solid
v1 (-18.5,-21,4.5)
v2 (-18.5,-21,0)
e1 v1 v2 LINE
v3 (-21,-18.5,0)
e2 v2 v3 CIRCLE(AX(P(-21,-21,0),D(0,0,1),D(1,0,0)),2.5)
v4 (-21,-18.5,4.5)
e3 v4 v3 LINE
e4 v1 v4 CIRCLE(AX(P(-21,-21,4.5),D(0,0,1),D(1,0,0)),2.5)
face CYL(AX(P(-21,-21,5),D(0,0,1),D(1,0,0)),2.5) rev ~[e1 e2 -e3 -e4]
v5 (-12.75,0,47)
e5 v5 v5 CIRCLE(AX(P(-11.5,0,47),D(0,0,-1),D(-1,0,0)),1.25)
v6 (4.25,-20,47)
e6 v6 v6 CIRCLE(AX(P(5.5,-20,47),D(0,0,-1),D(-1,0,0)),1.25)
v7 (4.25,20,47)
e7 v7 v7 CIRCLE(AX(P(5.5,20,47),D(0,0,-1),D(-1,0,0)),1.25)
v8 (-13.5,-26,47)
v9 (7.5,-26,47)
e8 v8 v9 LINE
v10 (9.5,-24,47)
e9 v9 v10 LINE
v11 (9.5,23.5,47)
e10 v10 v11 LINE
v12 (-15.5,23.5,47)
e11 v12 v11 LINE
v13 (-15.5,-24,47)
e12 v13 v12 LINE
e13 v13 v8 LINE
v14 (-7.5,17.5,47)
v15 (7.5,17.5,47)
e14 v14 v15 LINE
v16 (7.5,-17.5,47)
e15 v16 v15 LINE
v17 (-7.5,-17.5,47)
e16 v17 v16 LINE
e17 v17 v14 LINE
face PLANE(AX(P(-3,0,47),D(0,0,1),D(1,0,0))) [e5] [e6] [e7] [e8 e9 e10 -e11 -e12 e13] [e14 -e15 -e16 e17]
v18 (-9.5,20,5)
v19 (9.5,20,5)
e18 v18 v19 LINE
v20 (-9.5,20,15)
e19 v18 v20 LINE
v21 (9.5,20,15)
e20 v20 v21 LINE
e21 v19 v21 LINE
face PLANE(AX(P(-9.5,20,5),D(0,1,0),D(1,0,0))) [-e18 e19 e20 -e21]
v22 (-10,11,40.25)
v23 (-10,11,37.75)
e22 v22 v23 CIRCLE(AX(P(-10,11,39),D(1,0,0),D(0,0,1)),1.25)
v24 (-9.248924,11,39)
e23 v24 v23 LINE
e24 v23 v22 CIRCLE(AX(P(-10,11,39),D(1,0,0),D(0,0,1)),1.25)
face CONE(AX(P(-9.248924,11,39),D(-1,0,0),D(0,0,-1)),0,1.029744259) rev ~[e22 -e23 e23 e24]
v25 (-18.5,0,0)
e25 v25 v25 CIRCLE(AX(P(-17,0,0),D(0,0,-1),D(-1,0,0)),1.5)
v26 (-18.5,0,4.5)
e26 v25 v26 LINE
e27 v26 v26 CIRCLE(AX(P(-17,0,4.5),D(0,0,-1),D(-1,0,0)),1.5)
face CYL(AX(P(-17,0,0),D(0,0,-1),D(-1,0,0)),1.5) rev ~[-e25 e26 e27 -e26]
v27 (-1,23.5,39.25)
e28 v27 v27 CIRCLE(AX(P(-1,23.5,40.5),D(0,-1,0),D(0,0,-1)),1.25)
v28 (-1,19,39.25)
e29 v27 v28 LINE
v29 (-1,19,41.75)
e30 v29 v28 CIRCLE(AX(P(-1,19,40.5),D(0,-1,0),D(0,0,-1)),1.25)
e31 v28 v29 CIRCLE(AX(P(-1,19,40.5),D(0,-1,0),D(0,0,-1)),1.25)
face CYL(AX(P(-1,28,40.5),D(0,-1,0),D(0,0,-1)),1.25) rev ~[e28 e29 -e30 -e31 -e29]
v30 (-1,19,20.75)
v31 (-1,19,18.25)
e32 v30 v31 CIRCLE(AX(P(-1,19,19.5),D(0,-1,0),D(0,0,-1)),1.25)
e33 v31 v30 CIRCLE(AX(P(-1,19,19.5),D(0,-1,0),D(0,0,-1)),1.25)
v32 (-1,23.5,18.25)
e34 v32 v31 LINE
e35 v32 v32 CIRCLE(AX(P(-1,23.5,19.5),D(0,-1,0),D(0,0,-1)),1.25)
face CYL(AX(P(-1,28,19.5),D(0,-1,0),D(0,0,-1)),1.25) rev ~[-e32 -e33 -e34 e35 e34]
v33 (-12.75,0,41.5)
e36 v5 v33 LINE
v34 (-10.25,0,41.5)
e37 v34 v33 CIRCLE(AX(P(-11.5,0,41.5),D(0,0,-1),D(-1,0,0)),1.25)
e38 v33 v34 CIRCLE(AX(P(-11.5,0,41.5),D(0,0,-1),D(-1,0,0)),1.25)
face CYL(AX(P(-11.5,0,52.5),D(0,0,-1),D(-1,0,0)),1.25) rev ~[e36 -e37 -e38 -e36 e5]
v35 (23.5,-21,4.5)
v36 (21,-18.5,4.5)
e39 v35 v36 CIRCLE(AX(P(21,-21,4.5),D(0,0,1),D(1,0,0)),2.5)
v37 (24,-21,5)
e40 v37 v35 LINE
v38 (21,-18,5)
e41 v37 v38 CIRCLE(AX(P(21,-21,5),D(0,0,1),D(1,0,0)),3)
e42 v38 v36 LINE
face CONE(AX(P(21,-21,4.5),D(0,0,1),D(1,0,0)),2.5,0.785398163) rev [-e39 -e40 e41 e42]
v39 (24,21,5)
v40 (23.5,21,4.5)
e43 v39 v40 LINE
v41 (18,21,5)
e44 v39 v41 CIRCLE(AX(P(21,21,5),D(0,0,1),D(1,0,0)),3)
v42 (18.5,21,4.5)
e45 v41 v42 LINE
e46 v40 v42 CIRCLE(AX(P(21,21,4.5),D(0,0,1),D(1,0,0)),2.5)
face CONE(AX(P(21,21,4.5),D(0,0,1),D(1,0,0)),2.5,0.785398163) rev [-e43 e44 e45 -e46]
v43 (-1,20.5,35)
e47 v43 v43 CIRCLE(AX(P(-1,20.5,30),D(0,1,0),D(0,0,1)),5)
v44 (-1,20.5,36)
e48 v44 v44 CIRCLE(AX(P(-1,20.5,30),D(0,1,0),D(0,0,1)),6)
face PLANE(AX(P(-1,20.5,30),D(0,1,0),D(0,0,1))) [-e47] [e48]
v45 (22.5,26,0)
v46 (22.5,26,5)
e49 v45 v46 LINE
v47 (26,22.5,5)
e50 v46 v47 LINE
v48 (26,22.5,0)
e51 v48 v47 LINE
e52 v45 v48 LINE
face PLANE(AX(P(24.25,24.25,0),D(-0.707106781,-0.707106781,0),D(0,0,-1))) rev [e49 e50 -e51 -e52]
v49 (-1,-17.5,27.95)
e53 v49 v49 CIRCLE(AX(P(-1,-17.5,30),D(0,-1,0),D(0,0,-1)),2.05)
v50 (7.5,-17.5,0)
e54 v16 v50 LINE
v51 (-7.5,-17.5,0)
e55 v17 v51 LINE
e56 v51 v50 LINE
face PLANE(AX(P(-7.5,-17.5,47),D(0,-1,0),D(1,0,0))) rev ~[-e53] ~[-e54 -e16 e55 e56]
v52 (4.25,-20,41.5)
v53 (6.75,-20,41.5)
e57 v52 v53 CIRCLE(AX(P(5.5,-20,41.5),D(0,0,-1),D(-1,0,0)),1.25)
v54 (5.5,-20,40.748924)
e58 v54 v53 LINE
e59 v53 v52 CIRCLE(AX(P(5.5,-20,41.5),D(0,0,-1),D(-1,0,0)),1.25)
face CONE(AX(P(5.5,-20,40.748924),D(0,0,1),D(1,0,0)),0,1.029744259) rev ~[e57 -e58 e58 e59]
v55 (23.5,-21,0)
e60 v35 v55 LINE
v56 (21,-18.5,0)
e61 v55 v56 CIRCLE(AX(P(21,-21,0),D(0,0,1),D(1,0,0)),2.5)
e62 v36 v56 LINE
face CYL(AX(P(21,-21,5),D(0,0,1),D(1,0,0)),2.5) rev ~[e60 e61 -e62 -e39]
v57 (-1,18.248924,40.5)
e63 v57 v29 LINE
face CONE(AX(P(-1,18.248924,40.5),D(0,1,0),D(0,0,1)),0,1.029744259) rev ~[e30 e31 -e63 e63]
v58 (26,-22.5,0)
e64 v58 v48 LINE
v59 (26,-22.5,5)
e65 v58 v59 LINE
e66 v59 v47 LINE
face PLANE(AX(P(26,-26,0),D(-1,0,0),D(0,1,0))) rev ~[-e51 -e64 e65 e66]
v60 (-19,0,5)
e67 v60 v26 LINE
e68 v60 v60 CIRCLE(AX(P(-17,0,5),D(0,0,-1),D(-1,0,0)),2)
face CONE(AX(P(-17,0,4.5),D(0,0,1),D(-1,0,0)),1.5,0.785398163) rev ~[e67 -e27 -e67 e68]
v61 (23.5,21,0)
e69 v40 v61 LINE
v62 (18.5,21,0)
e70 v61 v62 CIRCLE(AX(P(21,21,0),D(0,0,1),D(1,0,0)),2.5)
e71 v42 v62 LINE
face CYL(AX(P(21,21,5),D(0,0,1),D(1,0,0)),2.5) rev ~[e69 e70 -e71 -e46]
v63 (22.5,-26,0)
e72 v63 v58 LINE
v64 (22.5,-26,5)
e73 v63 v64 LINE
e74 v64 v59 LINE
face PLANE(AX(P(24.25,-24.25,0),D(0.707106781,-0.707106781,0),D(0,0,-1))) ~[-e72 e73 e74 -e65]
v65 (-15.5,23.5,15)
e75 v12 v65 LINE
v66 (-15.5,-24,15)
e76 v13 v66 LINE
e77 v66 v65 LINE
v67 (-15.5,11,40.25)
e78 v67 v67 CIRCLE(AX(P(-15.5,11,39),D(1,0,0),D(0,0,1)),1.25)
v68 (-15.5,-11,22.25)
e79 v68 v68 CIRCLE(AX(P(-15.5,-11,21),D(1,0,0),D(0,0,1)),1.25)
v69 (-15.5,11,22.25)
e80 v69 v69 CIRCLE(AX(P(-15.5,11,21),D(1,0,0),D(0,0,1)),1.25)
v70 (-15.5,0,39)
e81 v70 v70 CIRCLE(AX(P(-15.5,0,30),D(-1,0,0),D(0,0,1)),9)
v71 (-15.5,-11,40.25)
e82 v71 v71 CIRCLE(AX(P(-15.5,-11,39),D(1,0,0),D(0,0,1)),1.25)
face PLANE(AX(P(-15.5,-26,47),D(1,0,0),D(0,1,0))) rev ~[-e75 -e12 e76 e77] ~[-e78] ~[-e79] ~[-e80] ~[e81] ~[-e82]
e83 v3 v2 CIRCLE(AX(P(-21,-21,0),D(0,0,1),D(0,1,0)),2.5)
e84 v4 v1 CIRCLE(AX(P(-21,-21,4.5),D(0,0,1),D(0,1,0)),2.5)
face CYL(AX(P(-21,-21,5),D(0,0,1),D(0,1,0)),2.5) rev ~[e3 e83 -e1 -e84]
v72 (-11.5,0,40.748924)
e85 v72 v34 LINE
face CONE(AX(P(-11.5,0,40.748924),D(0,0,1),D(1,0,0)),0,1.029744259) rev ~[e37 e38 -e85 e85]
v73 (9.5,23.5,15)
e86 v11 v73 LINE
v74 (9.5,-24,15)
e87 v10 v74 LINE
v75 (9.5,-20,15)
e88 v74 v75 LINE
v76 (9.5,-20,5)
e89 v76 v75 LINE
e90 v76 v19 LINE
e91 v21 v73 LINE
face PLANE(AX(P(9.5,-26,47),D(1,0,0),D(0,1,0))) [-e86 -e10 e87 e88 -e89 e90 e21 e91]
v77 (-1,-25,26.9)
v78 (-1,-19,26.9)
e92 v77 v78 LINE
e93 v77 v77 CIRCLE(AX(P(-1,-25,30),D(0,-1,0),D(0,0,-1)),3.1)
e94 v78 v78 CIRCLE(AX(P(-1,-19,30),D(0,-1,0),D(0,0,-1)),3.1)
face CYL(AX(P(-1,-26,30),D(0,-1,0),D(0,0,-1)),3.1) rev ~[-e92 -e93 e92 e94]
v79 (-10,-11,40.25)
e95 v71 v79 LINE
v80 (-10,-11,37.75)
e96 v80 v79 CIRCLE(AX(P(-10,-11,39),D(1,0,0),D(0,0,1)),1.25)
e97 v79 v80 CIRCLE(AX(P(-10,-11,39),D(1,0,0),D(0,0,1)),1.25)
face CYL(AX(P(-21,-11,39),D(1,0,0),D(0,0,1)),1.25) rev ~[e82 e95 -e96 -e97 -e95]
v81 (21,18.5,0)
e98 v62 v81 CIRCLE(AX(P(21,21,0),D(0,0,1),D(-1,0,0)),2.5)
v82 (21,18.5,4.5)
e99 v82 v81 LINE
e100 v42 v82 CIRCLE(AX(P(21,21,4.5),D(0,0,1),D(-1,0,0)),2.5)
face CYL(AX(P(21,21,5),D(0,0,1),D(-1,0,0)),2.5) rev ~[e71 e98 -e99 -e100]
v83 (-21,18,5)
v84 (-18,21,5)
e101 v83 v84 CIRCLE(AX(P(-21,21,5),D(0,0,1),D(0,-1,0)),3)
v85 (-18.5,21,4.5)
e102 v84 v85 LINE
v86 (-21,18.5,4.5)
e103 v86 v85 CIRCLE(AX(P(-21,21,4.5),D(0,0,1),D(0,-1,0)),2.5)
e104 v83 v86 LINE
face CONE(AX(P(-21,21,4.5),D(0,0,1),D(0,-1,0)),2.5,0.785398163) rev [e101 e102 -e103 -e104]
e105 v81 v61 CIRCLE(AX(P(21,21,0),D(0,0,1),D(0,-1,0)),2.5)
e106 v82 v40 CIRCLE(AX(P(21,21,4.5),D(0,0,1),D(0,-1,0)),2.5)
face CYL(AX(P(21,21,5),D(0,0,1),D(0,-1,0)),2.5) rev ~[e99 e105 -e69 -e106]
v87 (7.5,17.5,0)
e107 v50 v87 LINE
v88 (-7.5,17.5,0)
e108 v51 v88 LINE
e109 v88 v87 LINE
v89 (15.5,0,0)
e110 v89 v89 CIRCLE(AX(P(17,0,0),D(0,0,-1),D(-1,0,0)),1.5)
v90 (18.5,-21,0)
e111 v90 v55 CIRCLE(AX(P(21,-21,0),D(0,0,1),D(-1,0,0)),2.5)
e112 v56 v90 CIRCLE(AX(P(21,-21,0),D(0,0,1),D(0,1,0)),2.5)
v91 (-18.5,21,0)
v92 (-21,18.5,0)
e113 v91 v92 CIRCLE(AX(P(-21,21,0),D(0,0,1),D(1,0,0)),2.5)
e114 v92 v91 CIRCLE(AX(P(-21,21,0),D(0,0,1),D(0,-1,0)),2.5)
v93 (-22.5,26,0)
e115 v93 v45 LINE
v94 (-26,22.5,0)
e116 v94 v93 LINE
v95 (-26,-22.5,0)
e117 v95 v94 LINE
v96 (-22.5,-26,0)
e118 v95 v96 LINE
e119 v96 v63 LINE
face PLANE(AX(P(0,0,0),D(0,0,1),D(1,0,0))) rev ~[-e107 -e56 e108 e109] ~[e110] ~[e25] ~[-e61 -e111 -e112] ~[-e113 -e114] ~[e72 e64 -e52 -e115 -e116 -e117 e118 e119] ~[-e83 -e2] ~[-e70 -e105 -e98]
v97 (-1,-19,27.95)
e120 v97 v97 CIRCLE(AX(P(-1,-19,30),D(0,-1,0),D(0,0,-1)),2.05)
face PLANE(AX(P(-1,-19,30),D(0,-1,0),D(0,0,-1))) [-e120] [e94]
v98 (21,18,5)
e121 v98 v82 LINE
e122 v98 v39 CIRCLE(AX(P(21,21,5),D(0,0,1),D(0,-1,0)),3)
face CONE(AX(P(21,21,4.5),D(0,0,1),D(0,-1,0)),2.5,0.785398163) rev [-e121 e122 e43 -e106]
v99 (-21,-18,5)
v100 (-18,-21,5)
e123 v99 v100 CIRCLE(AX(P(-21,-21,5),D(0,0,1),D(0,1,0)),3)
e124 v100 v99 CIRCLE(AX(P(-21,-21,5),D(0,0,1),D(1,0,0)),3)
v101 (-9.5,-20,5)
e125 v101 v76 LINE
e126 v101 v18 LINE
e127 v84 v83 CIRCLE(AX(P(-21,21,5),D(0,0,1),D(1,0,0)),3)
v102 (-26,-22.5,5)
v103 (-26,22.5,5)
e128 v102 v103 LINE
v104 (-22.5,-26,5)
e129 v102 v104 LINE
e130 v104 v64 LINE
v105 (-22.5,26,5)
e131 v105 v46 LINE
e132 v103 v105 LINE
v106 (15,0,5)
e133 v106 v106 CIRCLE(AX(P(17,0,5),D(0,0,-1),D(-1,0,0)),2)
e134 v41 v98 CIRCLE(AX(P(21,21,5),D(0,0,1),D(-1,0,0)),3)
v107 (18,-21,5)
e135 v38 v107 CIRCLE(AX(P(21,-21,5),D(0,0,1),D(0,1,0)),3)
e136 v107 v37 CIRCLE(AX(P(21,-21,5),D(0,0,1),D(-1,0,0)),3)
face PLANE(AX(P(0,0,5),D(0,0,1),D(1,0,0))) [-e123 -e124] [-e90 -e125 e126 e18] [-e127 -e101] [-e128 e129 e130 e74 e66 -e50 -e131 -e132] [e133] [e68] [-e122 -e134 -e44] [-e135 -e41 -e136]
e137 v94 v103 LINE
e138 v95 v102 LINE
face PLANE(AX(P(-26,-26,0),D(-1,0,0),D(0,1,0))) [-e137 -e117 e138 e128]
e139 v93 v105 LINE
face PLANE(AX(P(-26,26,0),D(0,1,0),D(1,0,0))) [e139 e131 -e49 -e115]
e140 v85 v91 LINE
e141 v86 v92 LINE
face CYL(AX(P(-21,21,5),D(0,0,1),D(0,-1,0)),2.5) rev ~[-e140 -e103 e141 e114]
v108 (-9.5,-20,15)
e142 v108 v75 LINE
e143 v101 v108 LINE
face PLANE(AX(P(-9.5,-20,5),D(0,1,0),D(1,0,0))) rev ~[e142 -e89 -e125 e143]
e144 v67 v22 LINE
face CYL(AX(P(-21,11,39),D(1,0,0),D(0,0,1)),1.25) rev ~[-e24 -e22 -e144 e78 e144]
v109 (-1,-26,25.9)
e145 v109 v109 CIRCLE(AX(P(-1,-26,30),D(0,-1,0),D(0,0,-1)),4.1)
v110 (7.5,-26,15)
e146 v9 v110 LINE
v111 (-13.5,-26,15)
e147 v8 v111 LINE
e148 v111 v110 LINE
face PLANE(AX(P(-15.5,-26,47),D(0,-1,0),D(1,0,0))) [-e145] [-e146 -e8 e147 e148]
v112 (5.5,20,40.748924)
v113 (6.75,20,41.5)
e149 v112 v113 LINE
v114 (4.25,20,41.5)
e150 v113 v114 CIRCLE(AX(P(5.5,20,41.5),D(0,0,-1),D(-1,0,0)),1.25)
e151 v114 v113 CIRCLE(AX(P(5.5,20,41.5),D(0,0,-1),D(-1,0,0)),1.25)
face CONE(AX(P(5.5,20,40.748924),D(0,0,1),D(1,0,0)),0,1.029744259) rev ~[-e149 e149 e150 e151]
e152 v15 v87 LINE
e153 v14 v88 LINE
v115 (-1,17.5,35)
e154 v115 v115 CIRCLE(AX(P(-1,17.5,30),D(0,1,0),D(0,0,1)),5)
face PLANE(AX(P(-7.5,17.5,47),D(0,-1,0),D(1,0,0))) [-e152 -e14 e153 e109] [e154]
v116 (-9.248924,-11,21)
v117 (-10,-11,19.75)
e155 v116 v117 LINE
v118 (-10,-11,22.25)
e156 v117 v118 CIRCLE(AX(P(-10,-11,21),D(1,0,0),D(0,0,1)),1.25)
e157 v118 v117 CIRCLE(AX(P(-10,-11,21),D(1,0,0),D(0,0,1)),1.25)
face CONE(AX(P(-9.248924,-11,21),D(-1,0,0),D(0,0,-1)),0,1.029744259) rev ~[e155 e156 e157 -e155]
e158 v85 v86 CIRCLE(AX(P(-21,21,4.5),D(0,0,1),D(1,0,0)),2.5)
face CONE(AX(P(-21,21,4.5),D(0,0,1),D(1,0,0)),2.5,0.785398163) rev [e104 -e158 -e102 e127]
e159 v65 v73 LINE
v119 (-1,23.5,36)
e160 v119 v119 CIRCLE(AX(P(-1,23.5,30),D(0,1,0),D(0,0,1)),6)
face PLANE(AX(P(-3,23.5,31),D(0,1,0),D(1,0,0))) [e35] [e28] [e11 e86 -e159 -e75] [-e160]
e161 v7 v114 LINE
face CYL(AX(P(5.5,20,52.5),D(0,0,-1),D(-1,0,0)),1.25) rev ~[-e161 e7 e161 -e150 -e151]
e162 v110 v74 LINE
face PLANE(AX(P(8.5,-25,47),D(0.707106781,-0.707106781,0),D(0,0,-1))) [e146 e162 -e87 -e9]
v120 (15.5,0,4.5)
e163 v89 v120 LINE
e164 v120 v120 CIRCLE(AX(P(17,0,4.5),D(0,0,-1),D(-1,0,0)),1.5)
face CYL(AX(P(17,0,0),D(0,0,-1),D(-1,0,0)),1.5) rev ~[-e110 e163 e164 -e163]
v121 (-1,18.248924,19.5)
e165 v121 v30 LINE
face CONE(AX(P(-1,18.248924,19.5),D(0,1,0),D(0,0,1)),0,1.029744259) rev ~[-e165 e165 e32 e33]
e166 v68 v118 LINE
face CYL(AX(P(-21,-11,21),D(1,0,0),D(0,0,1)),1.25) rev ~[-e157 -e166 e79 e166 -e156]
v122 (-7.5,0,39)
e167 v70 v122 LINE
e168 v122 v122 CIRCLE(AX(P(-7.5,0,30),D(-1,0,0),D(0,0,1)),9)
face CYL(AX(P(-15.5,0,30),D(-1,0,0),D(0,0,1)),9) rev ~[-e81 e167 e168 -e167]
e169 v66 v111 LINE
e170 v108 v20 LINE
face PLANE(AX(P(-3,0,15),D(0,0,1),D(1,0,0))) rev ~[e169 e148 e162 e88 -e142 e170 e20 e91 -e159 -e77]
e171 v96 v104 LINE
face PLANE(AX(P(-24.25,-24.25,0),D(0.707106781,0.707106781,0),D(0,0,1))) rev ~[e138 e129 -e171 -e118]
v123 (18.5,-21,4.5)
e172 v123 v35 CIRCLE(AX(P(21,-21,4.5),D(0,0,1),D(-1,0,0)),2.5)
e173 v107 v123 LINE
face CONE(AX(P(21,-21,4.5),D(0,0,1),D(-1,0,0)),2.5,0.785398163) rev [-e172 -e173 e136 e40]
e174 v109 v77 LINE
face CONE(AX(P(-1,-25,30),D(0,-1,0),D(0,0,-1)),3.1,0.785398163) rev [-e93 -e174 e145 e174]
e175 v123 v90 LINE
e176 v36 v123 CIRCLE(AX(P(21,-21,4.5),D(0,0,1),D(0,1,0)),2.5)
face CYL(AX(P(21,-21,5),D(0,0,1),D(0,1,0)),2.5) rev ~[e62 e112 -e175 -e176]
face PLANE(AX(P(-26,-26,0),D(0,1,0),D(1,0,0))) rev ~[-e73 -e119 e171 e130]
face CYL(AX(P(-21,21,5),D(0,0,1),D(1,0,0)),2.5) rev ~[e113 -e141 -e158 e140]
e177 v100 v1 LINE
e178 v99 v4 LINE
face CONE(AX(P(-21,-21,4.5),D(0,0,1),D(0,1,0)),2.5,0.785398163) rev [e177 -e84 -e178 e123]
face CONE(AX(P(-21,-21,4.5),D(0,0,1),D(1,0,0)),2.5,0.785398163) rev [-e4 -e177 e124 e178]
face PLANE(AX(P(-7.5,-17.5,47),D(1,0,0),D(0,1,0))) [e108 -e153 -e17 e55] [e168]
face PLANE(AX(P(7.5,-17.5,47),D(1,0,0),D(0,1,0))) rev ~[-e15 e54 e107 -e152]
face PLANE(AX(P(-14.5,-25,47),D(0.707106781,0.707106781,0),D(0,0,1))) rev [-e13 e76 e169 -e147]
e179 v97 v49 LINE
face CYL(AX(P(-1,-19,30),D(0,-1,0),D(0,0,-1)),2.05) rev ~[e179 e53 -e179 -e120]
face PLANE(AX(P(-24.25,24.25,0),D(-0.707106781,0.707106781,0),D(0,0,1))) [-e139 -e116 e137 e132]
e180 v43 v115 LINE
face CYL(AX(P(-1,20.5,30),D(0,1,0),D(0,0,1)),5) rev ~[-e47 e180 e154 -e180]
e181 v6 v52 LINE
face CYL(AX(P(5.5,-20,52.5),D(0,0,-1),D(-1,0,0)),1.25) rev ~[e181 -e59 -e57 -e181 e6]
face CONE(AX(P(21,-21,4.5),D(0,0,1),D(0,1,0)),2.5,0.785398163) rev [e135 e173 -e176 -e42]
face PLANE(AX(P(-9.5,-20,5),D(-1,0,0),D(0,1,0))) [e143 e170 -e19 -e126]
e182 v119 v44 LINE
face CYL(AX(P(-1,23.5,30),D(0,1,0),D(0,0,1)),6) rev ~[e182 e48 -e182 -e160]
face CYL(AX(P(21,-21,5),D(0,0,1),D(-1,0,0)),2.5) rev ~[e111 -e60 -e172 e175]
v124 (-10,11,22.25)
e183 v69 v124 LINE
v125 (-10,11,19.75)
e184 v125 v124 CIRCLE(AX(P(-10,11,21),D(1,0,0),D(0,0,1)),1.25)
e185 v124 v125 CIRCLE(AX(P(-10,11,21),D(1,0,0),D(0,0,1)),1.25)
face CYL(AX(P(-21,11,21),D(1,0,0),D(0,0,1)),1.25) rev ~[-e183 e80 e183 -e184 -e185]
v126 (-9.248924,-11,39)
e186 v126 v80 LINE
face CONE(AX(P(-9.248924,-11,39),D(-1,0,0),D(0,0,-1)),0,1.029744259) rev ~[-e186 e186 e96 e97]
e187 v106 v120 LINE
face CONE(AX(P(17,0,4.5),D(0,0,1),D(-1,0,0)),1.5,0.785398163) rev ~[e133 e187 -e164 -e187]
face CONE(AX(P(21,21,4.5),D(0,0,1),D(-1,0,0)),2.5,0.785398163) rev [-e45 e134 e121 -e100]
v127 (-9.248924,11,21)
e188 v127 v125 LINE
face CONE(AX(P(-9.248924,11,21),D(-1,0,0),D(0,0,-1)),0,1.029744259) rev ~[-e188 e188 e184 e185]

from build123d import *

# Parameters (mm, degrees)
SKETCH_1_W          = 52
SKETCH_1_H          = 52
EXTRUDE_1_DEPTH     = 5
CUT_EXTRUDE_1_DEPTH = 38.107950631
CHAMFER_1_SIZE      = 3.5
CHAMFER_2_SIZE      = 0.5
SKETCH_3_W          = 19
SKETCH_3_H          = 40
EXTRUDE_2_DEPTH     = 42
SKETCH_4_W          = 25
SKETCH_4_H          = 52
EXTRUDE_3_DEPTH     = 32
SKETCH_6_W          = 15
SKETCH_6_H          = 35
CUT_EXTRUDE_2_DEPTH = 60.674114991
CUT_EXTRUDE_3_REACH = 69.877
SKETCH_7_R          = 9
M3X0_51_D           = 2.5
M3X0_51_DEPTH       = 5.5
M3X0_51_TIP         = 0.751075774
CHAMFER_3_SIZE      = 2
M3X0_52_D           = 2.5
M3X0_52_DEPTH       = 5.5
M3X0_52_TIP         = 0.751075774
SKETCH_13_R         = 3.1
CUT_EXTRUDE_4_DEPTH = 7
CUT_EXTRUDE_5_REACH = 72.071
SKETCH_14_R         = 2.05
CHAMFER_4_SIZE      = 1
SKETCH_15_W         = 25
SKETCH_15_H         = 32
CUT_EXTRUDE_6_DEPTH = 2.5
SKETCH_16_R         = 6
CUT_EXTRUDE_7_DEPTH = 3
CUT_EXTRUDE_8_REACH = 73.044
SKETCH_17_R         = 5
M3X0_53_D           = 2.5
M3X0_53_DEPTH       = 4.5
M3X0_53_TIP         = 0.751075774
CUT_EXTRUDE_9_REACH = 61.674
SKETCH_20_R         = 1.5
CHAMFER_5_SIZE      = 0.5


with BuildPart() as part:
    # Эскиз1 → Бобышка-Вытянуть1 (new body)
    with BuildSketch(Plane.XY):
        Rectangle(SKETCH_1_W, SKETCH_1_H)
    extrude(amount=EXTRUDE_1_DEPTH)

    # Эскиз2 → Вырез-Вытянуть1 (cut, through all)
    with BuildSketch(Plane.XY.offset(5)):
        with BuildLine():
            ThreePointArc((-18.5, 21), (-22.767766953, 22.767766953), (-21, 18.5))
            Line((-21, 18.5), (-21, 21))
            Line((-21, 21), (-18.5, 21))
        make_face()
        with BuildLine():
            Line((-21, 21), (-21, 18.5))
            ThreePointArc((-21, 18.5), (-19.232233047, 19.232233047), (-18.5, 21))
            Line((-18.5, 21), (-21, 21))
        make_face()
        with BuildLine():
            ThreePointArc((18.5, 21), (19.232233047, 19.232233047), (21, 18.5))
            Line((21, 18.5), (21, 21))
            Line((21, 21), (18.5, 21))
        make_face()
        with BuildLine():
            Line((21, 21), (21, 18.5))
            ThreePointArc((21, 18.5), (22.767766953, 19.232233047), (23.5, 21))
            ThreePointArc((23.5, 21), (21, 23.5), (18.5, 21))
            Line((18.5, 21), (21, 21))
        make_face()
        with BuildLine():
            Line((-21, -18.5), (-21, -21))
            Line((-21, -21), (-18.5, -21))
            ThreePointArc((-18.5, -21), (-19.232233047, -19.232233047), (-21, -18.5))
        make_face()
        with BuildLine():
            Line((-18.5, -21), (-21, -21))
            Line((-21, -21), (-21, -18.5))
            ThreePointArc((-21, -18.5), (-22.767766953, -22.767766953), (-18.5, -21))
        make_face()
        with BuildLine():
            ThreePointArc((21, -18.5), (19.232233047, -19.232233047), (18.5, -21))
            Line((18.5, -21), (21, -21))
            Line((21, -21), (21, -18.5))
        make_face()
        with BuildLine():
            Line((21, -21), (18.5, -21))
            ThreePointArc((18.5, -21), (21, -23.5), (23.5, -21))
            ThreePointArc((23.5, -21), (22.767766953, -19.232233047), (21, -18.5))
            Line((21, -18.5), (21, -21))
        make_face()
    extrude(amount=-CUT_EXTRUDE_1_DEPTH, mode=Mode.SUBTRACT)

    # Фаска1
    chamfer_1_edges = [part.edges().sort_by_distance(p)[0] for p in [
        (26, -26, 2.5),
        (-26, -26, 2.5),
        (-26, 26, 2.5),
        (26, 26, 2.5),
    ]]
    chamfer(chamfer_1_edges, length=CHAMFER_1_SIZE)

    # Фаска2
    chamfer_2_edges = [part.edges().sort_by_distance(p)[0] for p in [
        (23.5, 21, 5),
        (-21, 23.5, 5),
        (-23.5, -21, 5),
        (18.5, -21, 5),
    ]]
    chamfer(chamfer_2_edges, length=CHAMFER_2_SIZE)

    # Эскиз3 → Бобышка-Вытянуть2 (add)
    with BuildSketch(Plane.XY.offset(5)):
        Rectangle(SKETCH_3_W, SKETCH_3_H)
    extrude(amount=EXTRUDE_2_DEPTH)

    # Эскиз4 → Бобышка-Вытянуть3 (add)
    with BuildSketch(Plane.XY.offset(47)):
        with Locations((-3, 0)):
            Rectangle(SKETCH_4_W, SKETCH_4_H)
    extrude(amount=-EXTRUDE_3_DEPTH)

    # Эскиз6 → Вырез-Вытянуть2 (cut, through all)
    with BuildSketch(Plane.XY.offset(47)):
        Rectangle(SKETCH_6_W, SKETCH_6_H)
    extrude(amount=-CUT_EXTRUDE_2_DEPTH, mode=Mode.SUBTRACT)

    # Эскиз7 → Вырез-Вытянуть3 (cut, up to next)
    with BuildSketch(Plane.ZY.offset(15.5), mode=Mode.PRIVATE) as cut_extrude_3_sk1:
        with Locations((30, 0)):
            Circle(SKETCH_7_R)
    cut_extrude_3_tool1 = extrude(cut_extrude_3_sk1.sketch, amount=-CUT_EXTRUDE_3_REACH, mode=Mode.PRIVATE) & part.part
    add(cut_extrude_3_tool1.solids().sort_by_distance((-15.5, 0, 30))[0], mode=Mode.SUBTRACT)

    # Отверстие обработанное метчиком M3x0.51
    with Locations(Plane(origin=(-15.5, 11, 39), x_dir=(0, 0, -1), z_dir=(-1, 0, 0))):
        with Locations((0, 0), (0, 22), (18, 22), (18, 0)):
            Hole(M3X0_51_D / 2, depth=M3X0_51_DEPTH)
            with Locations((0, 0, -(M3X0_51_DEPTH + M3X0_51_TIP / 2))):  # 118° drill point
                Cone(0, M3X0_51_D / 2, M3X0_51_TIP, mode=Mode.SUBTRACT)

    # Фаска3
    chamfer_3_edges = [part.edges().sort_by_distance(p)[0] for p in [
        (9.5, 26, 31),
        (9.5, -26, 31),
        (-15.5, -26, 31),
        (-15.5, 26, 31),
    ]]
    chamfer(chamfer_3_edges, length=CHAMFER_3_SIZE)

    # Отверстие обработанное метчиком M3x0.52
    with Locations(Plane(origin=(5.5, 20, 47), x_dir=(1, 0, 0), z_dir=(0, 0, 1))):
        with Locations((0, 0), (-17, -20), (0, -40)):
            Hole(M3X0_52_D / 2, depth=M3X0_52_DEPTH)
            with Locations((0, 0, -(M3X0_52_DEPTH + M3X0_52_TIP / 2))):  # 118° drill point
                Cone(0, M3X0_52_D / 2, M3X0_52_TIP, mode=Mode.SUBTRACT)

    # Эскиз13 → Вырез-Вытянуть4 (cut)
    with BuildSketch(Plane(origin=(0, -26, 0), x_dir=(-1, 0, 0), z_dir=(0, -1, 0))):
        with Locations(Location((1, -30, 0), (0, 0, 90))):
            Circle(SKETCH_13_R)
    extrude(amount=-CUT_EXTRUDE_4_DEPTH, mode=Mode.SUBTRACT)

    # Эскиз14 → Вырез-Вытянуть5 (cut, up to next)
    with BuildSketch(Plane.XZ.offset(19), mode=Mode.PRIVATE) as cut_extrude_5_sk1:
        with Locations(Location((-1, 30, 0), (0, 0, 270))):
            Circle(SKETCH_14_R)
    cut_extrude_5_tool1 = extrude(cut_extrude_5_sk1.sketch, amount=-CUT_EXTRUDE_5_REACH, mode=Mode.PRIVATE) & part.part
    add(cut_extrude_5_tool1.solids().sort_by_distance((-1, -19, 30))[0], mode=Mode.SUBTRACT)

    # Фаска4
    chamfer_4_edges = [part.edges().sort_by_distance(p)[0] for p in [
        (-1, -26, 33.1),
    ]]
    chamfer(chamfer_4_edges, length=CHAMFER_4_SIZE)

    # Эскиз15 → Вырез-Вытянуть6 (cut)
    with BuildSketch(Plane(origin=(0, 26, 0), x_dir=(1, 0, 0), z_dir=(0, 1, 0))):
        with Locations((-3, -31)):
            Rectangle(SKETCH_15_W, SKETCH_15_H)
    extrude(amount=-CUT_EXTRUDE_6_DEPTH, mode=Mode.SUBTRACT)

    # Эскиз16 → Вырез-Вытянуть7 (cut)
    with BuildSketch(Plane(origin=(0, 23.5, 0), x_dir=(1, 0, 0), z_dir=(0, 1, 0))):
        with Locations(Location((-1, -30, 0), (0, 0, 270))):
            Circle(SKETCH_16_R)
    extrude(amount=-CUT_EXTRUDE_7_DEPTH, mode=Mode.SUBTRACT)

    # Эскиз17 → Вырез-Вытянуть8 (cut, up to next)
    with BuildSketch(Plane(origin=(0, 20.5, 0), x_dir=(1, 0, 0), z_dir=(0, 1, 0)), mode=Mode.PRIVATE) as cut_extrude_8_sk1:
        with Locations(Location((-1, -30, 0), (0, 0, 270))):
            Circle(SKETCH_17_R)
    cut_extrude_8_tool1 = extrude(cut_extrude_8_sk1.sketch, amount=-CUT_EXTRUDE_8_REACH, mode=Mode.PRIVATE) & part.part
    add(cut_extrude_8_tool1.solids().sort_by_distance((-1, 20.5, 30))[0], mode=Mode.SUBTRACT)

    # Отверстие обработанное метчиком M3x0.53
    with Locations(Plane(origin=(-1, 23.5, 40.5), x_dir=(0, 0, 1), z_dir=(0, 1, 0))):
        with Locations((0, 0), (-21, 0)):
            Hole(M3X0_53_D / 2, depth=M3X0_53_DEPTH)
            with Locations((0, 0, -(M3X0_53_DEPTH + M3X0_53_TIP / 2))):  # 118° drill point
                Cone(0, M3X0_53_D / 2, M3X0_53_TIP, mode=Mode.SUBTRACT)

    # Эскиз20 → Вырез-Вытянуть9 (cut, up to next)
    with BuildSketch(Plane(origin=(0, 0, 0), x_dir=(-1, 0, 0), z_dir=(0, 0, -1)), mode=Mode.PRIVATE) as cut_extrude_9_sk1:
        with Locations((-17, 0)):
            Circle(SKETCH_20_R)
    cut_extrude_9_tool1 = extrude(cut_extrude_9_sk1.sketch, amount=-CUT_EXTRUDE_9_REACH, mode=Mode.PRIVATE) & part.part
    # Эскиз20 → Вырез-Вытянуть9 (cut, up to next)
    with BuildSketch(Plane(origin=(0, 0, 0), x_dir=(-1, 0, 0), z_dir=(0, 0, -1)), mode=Mode.PRIVATE) as cut_extrude_9_sk2:
        with Locations((17, 0)):
            Circle(SKETCH_20_R)
    cut_extrude_9_tool2 = extrude(cut_extrude_9_sk2.sketch, amount=-CUT_EXTRUDE_9_REACH, mode=Mode.PRIVATE) & part.part
    add(cut_extrude_9_tool1.solids().sort_by_distance((17, 0, 0))[0], mode=Mode.SUBTRACT)
    add(cut_extrude_9_tool2.solids().sort_by_distance((-17, 0, 0))[0], mode=Mode.SUBTRACT)

    # Фаска5
    chamfer_5_edges = [part.edges().sort_by_distance(p)[0] for p in [
        (18.5, 0, 5),
        (-15.5, 0, 5),
    ]]
    chamfer(chamfer_5_edges, length=CHAMFER_5_SIZE)


solid = part.part
